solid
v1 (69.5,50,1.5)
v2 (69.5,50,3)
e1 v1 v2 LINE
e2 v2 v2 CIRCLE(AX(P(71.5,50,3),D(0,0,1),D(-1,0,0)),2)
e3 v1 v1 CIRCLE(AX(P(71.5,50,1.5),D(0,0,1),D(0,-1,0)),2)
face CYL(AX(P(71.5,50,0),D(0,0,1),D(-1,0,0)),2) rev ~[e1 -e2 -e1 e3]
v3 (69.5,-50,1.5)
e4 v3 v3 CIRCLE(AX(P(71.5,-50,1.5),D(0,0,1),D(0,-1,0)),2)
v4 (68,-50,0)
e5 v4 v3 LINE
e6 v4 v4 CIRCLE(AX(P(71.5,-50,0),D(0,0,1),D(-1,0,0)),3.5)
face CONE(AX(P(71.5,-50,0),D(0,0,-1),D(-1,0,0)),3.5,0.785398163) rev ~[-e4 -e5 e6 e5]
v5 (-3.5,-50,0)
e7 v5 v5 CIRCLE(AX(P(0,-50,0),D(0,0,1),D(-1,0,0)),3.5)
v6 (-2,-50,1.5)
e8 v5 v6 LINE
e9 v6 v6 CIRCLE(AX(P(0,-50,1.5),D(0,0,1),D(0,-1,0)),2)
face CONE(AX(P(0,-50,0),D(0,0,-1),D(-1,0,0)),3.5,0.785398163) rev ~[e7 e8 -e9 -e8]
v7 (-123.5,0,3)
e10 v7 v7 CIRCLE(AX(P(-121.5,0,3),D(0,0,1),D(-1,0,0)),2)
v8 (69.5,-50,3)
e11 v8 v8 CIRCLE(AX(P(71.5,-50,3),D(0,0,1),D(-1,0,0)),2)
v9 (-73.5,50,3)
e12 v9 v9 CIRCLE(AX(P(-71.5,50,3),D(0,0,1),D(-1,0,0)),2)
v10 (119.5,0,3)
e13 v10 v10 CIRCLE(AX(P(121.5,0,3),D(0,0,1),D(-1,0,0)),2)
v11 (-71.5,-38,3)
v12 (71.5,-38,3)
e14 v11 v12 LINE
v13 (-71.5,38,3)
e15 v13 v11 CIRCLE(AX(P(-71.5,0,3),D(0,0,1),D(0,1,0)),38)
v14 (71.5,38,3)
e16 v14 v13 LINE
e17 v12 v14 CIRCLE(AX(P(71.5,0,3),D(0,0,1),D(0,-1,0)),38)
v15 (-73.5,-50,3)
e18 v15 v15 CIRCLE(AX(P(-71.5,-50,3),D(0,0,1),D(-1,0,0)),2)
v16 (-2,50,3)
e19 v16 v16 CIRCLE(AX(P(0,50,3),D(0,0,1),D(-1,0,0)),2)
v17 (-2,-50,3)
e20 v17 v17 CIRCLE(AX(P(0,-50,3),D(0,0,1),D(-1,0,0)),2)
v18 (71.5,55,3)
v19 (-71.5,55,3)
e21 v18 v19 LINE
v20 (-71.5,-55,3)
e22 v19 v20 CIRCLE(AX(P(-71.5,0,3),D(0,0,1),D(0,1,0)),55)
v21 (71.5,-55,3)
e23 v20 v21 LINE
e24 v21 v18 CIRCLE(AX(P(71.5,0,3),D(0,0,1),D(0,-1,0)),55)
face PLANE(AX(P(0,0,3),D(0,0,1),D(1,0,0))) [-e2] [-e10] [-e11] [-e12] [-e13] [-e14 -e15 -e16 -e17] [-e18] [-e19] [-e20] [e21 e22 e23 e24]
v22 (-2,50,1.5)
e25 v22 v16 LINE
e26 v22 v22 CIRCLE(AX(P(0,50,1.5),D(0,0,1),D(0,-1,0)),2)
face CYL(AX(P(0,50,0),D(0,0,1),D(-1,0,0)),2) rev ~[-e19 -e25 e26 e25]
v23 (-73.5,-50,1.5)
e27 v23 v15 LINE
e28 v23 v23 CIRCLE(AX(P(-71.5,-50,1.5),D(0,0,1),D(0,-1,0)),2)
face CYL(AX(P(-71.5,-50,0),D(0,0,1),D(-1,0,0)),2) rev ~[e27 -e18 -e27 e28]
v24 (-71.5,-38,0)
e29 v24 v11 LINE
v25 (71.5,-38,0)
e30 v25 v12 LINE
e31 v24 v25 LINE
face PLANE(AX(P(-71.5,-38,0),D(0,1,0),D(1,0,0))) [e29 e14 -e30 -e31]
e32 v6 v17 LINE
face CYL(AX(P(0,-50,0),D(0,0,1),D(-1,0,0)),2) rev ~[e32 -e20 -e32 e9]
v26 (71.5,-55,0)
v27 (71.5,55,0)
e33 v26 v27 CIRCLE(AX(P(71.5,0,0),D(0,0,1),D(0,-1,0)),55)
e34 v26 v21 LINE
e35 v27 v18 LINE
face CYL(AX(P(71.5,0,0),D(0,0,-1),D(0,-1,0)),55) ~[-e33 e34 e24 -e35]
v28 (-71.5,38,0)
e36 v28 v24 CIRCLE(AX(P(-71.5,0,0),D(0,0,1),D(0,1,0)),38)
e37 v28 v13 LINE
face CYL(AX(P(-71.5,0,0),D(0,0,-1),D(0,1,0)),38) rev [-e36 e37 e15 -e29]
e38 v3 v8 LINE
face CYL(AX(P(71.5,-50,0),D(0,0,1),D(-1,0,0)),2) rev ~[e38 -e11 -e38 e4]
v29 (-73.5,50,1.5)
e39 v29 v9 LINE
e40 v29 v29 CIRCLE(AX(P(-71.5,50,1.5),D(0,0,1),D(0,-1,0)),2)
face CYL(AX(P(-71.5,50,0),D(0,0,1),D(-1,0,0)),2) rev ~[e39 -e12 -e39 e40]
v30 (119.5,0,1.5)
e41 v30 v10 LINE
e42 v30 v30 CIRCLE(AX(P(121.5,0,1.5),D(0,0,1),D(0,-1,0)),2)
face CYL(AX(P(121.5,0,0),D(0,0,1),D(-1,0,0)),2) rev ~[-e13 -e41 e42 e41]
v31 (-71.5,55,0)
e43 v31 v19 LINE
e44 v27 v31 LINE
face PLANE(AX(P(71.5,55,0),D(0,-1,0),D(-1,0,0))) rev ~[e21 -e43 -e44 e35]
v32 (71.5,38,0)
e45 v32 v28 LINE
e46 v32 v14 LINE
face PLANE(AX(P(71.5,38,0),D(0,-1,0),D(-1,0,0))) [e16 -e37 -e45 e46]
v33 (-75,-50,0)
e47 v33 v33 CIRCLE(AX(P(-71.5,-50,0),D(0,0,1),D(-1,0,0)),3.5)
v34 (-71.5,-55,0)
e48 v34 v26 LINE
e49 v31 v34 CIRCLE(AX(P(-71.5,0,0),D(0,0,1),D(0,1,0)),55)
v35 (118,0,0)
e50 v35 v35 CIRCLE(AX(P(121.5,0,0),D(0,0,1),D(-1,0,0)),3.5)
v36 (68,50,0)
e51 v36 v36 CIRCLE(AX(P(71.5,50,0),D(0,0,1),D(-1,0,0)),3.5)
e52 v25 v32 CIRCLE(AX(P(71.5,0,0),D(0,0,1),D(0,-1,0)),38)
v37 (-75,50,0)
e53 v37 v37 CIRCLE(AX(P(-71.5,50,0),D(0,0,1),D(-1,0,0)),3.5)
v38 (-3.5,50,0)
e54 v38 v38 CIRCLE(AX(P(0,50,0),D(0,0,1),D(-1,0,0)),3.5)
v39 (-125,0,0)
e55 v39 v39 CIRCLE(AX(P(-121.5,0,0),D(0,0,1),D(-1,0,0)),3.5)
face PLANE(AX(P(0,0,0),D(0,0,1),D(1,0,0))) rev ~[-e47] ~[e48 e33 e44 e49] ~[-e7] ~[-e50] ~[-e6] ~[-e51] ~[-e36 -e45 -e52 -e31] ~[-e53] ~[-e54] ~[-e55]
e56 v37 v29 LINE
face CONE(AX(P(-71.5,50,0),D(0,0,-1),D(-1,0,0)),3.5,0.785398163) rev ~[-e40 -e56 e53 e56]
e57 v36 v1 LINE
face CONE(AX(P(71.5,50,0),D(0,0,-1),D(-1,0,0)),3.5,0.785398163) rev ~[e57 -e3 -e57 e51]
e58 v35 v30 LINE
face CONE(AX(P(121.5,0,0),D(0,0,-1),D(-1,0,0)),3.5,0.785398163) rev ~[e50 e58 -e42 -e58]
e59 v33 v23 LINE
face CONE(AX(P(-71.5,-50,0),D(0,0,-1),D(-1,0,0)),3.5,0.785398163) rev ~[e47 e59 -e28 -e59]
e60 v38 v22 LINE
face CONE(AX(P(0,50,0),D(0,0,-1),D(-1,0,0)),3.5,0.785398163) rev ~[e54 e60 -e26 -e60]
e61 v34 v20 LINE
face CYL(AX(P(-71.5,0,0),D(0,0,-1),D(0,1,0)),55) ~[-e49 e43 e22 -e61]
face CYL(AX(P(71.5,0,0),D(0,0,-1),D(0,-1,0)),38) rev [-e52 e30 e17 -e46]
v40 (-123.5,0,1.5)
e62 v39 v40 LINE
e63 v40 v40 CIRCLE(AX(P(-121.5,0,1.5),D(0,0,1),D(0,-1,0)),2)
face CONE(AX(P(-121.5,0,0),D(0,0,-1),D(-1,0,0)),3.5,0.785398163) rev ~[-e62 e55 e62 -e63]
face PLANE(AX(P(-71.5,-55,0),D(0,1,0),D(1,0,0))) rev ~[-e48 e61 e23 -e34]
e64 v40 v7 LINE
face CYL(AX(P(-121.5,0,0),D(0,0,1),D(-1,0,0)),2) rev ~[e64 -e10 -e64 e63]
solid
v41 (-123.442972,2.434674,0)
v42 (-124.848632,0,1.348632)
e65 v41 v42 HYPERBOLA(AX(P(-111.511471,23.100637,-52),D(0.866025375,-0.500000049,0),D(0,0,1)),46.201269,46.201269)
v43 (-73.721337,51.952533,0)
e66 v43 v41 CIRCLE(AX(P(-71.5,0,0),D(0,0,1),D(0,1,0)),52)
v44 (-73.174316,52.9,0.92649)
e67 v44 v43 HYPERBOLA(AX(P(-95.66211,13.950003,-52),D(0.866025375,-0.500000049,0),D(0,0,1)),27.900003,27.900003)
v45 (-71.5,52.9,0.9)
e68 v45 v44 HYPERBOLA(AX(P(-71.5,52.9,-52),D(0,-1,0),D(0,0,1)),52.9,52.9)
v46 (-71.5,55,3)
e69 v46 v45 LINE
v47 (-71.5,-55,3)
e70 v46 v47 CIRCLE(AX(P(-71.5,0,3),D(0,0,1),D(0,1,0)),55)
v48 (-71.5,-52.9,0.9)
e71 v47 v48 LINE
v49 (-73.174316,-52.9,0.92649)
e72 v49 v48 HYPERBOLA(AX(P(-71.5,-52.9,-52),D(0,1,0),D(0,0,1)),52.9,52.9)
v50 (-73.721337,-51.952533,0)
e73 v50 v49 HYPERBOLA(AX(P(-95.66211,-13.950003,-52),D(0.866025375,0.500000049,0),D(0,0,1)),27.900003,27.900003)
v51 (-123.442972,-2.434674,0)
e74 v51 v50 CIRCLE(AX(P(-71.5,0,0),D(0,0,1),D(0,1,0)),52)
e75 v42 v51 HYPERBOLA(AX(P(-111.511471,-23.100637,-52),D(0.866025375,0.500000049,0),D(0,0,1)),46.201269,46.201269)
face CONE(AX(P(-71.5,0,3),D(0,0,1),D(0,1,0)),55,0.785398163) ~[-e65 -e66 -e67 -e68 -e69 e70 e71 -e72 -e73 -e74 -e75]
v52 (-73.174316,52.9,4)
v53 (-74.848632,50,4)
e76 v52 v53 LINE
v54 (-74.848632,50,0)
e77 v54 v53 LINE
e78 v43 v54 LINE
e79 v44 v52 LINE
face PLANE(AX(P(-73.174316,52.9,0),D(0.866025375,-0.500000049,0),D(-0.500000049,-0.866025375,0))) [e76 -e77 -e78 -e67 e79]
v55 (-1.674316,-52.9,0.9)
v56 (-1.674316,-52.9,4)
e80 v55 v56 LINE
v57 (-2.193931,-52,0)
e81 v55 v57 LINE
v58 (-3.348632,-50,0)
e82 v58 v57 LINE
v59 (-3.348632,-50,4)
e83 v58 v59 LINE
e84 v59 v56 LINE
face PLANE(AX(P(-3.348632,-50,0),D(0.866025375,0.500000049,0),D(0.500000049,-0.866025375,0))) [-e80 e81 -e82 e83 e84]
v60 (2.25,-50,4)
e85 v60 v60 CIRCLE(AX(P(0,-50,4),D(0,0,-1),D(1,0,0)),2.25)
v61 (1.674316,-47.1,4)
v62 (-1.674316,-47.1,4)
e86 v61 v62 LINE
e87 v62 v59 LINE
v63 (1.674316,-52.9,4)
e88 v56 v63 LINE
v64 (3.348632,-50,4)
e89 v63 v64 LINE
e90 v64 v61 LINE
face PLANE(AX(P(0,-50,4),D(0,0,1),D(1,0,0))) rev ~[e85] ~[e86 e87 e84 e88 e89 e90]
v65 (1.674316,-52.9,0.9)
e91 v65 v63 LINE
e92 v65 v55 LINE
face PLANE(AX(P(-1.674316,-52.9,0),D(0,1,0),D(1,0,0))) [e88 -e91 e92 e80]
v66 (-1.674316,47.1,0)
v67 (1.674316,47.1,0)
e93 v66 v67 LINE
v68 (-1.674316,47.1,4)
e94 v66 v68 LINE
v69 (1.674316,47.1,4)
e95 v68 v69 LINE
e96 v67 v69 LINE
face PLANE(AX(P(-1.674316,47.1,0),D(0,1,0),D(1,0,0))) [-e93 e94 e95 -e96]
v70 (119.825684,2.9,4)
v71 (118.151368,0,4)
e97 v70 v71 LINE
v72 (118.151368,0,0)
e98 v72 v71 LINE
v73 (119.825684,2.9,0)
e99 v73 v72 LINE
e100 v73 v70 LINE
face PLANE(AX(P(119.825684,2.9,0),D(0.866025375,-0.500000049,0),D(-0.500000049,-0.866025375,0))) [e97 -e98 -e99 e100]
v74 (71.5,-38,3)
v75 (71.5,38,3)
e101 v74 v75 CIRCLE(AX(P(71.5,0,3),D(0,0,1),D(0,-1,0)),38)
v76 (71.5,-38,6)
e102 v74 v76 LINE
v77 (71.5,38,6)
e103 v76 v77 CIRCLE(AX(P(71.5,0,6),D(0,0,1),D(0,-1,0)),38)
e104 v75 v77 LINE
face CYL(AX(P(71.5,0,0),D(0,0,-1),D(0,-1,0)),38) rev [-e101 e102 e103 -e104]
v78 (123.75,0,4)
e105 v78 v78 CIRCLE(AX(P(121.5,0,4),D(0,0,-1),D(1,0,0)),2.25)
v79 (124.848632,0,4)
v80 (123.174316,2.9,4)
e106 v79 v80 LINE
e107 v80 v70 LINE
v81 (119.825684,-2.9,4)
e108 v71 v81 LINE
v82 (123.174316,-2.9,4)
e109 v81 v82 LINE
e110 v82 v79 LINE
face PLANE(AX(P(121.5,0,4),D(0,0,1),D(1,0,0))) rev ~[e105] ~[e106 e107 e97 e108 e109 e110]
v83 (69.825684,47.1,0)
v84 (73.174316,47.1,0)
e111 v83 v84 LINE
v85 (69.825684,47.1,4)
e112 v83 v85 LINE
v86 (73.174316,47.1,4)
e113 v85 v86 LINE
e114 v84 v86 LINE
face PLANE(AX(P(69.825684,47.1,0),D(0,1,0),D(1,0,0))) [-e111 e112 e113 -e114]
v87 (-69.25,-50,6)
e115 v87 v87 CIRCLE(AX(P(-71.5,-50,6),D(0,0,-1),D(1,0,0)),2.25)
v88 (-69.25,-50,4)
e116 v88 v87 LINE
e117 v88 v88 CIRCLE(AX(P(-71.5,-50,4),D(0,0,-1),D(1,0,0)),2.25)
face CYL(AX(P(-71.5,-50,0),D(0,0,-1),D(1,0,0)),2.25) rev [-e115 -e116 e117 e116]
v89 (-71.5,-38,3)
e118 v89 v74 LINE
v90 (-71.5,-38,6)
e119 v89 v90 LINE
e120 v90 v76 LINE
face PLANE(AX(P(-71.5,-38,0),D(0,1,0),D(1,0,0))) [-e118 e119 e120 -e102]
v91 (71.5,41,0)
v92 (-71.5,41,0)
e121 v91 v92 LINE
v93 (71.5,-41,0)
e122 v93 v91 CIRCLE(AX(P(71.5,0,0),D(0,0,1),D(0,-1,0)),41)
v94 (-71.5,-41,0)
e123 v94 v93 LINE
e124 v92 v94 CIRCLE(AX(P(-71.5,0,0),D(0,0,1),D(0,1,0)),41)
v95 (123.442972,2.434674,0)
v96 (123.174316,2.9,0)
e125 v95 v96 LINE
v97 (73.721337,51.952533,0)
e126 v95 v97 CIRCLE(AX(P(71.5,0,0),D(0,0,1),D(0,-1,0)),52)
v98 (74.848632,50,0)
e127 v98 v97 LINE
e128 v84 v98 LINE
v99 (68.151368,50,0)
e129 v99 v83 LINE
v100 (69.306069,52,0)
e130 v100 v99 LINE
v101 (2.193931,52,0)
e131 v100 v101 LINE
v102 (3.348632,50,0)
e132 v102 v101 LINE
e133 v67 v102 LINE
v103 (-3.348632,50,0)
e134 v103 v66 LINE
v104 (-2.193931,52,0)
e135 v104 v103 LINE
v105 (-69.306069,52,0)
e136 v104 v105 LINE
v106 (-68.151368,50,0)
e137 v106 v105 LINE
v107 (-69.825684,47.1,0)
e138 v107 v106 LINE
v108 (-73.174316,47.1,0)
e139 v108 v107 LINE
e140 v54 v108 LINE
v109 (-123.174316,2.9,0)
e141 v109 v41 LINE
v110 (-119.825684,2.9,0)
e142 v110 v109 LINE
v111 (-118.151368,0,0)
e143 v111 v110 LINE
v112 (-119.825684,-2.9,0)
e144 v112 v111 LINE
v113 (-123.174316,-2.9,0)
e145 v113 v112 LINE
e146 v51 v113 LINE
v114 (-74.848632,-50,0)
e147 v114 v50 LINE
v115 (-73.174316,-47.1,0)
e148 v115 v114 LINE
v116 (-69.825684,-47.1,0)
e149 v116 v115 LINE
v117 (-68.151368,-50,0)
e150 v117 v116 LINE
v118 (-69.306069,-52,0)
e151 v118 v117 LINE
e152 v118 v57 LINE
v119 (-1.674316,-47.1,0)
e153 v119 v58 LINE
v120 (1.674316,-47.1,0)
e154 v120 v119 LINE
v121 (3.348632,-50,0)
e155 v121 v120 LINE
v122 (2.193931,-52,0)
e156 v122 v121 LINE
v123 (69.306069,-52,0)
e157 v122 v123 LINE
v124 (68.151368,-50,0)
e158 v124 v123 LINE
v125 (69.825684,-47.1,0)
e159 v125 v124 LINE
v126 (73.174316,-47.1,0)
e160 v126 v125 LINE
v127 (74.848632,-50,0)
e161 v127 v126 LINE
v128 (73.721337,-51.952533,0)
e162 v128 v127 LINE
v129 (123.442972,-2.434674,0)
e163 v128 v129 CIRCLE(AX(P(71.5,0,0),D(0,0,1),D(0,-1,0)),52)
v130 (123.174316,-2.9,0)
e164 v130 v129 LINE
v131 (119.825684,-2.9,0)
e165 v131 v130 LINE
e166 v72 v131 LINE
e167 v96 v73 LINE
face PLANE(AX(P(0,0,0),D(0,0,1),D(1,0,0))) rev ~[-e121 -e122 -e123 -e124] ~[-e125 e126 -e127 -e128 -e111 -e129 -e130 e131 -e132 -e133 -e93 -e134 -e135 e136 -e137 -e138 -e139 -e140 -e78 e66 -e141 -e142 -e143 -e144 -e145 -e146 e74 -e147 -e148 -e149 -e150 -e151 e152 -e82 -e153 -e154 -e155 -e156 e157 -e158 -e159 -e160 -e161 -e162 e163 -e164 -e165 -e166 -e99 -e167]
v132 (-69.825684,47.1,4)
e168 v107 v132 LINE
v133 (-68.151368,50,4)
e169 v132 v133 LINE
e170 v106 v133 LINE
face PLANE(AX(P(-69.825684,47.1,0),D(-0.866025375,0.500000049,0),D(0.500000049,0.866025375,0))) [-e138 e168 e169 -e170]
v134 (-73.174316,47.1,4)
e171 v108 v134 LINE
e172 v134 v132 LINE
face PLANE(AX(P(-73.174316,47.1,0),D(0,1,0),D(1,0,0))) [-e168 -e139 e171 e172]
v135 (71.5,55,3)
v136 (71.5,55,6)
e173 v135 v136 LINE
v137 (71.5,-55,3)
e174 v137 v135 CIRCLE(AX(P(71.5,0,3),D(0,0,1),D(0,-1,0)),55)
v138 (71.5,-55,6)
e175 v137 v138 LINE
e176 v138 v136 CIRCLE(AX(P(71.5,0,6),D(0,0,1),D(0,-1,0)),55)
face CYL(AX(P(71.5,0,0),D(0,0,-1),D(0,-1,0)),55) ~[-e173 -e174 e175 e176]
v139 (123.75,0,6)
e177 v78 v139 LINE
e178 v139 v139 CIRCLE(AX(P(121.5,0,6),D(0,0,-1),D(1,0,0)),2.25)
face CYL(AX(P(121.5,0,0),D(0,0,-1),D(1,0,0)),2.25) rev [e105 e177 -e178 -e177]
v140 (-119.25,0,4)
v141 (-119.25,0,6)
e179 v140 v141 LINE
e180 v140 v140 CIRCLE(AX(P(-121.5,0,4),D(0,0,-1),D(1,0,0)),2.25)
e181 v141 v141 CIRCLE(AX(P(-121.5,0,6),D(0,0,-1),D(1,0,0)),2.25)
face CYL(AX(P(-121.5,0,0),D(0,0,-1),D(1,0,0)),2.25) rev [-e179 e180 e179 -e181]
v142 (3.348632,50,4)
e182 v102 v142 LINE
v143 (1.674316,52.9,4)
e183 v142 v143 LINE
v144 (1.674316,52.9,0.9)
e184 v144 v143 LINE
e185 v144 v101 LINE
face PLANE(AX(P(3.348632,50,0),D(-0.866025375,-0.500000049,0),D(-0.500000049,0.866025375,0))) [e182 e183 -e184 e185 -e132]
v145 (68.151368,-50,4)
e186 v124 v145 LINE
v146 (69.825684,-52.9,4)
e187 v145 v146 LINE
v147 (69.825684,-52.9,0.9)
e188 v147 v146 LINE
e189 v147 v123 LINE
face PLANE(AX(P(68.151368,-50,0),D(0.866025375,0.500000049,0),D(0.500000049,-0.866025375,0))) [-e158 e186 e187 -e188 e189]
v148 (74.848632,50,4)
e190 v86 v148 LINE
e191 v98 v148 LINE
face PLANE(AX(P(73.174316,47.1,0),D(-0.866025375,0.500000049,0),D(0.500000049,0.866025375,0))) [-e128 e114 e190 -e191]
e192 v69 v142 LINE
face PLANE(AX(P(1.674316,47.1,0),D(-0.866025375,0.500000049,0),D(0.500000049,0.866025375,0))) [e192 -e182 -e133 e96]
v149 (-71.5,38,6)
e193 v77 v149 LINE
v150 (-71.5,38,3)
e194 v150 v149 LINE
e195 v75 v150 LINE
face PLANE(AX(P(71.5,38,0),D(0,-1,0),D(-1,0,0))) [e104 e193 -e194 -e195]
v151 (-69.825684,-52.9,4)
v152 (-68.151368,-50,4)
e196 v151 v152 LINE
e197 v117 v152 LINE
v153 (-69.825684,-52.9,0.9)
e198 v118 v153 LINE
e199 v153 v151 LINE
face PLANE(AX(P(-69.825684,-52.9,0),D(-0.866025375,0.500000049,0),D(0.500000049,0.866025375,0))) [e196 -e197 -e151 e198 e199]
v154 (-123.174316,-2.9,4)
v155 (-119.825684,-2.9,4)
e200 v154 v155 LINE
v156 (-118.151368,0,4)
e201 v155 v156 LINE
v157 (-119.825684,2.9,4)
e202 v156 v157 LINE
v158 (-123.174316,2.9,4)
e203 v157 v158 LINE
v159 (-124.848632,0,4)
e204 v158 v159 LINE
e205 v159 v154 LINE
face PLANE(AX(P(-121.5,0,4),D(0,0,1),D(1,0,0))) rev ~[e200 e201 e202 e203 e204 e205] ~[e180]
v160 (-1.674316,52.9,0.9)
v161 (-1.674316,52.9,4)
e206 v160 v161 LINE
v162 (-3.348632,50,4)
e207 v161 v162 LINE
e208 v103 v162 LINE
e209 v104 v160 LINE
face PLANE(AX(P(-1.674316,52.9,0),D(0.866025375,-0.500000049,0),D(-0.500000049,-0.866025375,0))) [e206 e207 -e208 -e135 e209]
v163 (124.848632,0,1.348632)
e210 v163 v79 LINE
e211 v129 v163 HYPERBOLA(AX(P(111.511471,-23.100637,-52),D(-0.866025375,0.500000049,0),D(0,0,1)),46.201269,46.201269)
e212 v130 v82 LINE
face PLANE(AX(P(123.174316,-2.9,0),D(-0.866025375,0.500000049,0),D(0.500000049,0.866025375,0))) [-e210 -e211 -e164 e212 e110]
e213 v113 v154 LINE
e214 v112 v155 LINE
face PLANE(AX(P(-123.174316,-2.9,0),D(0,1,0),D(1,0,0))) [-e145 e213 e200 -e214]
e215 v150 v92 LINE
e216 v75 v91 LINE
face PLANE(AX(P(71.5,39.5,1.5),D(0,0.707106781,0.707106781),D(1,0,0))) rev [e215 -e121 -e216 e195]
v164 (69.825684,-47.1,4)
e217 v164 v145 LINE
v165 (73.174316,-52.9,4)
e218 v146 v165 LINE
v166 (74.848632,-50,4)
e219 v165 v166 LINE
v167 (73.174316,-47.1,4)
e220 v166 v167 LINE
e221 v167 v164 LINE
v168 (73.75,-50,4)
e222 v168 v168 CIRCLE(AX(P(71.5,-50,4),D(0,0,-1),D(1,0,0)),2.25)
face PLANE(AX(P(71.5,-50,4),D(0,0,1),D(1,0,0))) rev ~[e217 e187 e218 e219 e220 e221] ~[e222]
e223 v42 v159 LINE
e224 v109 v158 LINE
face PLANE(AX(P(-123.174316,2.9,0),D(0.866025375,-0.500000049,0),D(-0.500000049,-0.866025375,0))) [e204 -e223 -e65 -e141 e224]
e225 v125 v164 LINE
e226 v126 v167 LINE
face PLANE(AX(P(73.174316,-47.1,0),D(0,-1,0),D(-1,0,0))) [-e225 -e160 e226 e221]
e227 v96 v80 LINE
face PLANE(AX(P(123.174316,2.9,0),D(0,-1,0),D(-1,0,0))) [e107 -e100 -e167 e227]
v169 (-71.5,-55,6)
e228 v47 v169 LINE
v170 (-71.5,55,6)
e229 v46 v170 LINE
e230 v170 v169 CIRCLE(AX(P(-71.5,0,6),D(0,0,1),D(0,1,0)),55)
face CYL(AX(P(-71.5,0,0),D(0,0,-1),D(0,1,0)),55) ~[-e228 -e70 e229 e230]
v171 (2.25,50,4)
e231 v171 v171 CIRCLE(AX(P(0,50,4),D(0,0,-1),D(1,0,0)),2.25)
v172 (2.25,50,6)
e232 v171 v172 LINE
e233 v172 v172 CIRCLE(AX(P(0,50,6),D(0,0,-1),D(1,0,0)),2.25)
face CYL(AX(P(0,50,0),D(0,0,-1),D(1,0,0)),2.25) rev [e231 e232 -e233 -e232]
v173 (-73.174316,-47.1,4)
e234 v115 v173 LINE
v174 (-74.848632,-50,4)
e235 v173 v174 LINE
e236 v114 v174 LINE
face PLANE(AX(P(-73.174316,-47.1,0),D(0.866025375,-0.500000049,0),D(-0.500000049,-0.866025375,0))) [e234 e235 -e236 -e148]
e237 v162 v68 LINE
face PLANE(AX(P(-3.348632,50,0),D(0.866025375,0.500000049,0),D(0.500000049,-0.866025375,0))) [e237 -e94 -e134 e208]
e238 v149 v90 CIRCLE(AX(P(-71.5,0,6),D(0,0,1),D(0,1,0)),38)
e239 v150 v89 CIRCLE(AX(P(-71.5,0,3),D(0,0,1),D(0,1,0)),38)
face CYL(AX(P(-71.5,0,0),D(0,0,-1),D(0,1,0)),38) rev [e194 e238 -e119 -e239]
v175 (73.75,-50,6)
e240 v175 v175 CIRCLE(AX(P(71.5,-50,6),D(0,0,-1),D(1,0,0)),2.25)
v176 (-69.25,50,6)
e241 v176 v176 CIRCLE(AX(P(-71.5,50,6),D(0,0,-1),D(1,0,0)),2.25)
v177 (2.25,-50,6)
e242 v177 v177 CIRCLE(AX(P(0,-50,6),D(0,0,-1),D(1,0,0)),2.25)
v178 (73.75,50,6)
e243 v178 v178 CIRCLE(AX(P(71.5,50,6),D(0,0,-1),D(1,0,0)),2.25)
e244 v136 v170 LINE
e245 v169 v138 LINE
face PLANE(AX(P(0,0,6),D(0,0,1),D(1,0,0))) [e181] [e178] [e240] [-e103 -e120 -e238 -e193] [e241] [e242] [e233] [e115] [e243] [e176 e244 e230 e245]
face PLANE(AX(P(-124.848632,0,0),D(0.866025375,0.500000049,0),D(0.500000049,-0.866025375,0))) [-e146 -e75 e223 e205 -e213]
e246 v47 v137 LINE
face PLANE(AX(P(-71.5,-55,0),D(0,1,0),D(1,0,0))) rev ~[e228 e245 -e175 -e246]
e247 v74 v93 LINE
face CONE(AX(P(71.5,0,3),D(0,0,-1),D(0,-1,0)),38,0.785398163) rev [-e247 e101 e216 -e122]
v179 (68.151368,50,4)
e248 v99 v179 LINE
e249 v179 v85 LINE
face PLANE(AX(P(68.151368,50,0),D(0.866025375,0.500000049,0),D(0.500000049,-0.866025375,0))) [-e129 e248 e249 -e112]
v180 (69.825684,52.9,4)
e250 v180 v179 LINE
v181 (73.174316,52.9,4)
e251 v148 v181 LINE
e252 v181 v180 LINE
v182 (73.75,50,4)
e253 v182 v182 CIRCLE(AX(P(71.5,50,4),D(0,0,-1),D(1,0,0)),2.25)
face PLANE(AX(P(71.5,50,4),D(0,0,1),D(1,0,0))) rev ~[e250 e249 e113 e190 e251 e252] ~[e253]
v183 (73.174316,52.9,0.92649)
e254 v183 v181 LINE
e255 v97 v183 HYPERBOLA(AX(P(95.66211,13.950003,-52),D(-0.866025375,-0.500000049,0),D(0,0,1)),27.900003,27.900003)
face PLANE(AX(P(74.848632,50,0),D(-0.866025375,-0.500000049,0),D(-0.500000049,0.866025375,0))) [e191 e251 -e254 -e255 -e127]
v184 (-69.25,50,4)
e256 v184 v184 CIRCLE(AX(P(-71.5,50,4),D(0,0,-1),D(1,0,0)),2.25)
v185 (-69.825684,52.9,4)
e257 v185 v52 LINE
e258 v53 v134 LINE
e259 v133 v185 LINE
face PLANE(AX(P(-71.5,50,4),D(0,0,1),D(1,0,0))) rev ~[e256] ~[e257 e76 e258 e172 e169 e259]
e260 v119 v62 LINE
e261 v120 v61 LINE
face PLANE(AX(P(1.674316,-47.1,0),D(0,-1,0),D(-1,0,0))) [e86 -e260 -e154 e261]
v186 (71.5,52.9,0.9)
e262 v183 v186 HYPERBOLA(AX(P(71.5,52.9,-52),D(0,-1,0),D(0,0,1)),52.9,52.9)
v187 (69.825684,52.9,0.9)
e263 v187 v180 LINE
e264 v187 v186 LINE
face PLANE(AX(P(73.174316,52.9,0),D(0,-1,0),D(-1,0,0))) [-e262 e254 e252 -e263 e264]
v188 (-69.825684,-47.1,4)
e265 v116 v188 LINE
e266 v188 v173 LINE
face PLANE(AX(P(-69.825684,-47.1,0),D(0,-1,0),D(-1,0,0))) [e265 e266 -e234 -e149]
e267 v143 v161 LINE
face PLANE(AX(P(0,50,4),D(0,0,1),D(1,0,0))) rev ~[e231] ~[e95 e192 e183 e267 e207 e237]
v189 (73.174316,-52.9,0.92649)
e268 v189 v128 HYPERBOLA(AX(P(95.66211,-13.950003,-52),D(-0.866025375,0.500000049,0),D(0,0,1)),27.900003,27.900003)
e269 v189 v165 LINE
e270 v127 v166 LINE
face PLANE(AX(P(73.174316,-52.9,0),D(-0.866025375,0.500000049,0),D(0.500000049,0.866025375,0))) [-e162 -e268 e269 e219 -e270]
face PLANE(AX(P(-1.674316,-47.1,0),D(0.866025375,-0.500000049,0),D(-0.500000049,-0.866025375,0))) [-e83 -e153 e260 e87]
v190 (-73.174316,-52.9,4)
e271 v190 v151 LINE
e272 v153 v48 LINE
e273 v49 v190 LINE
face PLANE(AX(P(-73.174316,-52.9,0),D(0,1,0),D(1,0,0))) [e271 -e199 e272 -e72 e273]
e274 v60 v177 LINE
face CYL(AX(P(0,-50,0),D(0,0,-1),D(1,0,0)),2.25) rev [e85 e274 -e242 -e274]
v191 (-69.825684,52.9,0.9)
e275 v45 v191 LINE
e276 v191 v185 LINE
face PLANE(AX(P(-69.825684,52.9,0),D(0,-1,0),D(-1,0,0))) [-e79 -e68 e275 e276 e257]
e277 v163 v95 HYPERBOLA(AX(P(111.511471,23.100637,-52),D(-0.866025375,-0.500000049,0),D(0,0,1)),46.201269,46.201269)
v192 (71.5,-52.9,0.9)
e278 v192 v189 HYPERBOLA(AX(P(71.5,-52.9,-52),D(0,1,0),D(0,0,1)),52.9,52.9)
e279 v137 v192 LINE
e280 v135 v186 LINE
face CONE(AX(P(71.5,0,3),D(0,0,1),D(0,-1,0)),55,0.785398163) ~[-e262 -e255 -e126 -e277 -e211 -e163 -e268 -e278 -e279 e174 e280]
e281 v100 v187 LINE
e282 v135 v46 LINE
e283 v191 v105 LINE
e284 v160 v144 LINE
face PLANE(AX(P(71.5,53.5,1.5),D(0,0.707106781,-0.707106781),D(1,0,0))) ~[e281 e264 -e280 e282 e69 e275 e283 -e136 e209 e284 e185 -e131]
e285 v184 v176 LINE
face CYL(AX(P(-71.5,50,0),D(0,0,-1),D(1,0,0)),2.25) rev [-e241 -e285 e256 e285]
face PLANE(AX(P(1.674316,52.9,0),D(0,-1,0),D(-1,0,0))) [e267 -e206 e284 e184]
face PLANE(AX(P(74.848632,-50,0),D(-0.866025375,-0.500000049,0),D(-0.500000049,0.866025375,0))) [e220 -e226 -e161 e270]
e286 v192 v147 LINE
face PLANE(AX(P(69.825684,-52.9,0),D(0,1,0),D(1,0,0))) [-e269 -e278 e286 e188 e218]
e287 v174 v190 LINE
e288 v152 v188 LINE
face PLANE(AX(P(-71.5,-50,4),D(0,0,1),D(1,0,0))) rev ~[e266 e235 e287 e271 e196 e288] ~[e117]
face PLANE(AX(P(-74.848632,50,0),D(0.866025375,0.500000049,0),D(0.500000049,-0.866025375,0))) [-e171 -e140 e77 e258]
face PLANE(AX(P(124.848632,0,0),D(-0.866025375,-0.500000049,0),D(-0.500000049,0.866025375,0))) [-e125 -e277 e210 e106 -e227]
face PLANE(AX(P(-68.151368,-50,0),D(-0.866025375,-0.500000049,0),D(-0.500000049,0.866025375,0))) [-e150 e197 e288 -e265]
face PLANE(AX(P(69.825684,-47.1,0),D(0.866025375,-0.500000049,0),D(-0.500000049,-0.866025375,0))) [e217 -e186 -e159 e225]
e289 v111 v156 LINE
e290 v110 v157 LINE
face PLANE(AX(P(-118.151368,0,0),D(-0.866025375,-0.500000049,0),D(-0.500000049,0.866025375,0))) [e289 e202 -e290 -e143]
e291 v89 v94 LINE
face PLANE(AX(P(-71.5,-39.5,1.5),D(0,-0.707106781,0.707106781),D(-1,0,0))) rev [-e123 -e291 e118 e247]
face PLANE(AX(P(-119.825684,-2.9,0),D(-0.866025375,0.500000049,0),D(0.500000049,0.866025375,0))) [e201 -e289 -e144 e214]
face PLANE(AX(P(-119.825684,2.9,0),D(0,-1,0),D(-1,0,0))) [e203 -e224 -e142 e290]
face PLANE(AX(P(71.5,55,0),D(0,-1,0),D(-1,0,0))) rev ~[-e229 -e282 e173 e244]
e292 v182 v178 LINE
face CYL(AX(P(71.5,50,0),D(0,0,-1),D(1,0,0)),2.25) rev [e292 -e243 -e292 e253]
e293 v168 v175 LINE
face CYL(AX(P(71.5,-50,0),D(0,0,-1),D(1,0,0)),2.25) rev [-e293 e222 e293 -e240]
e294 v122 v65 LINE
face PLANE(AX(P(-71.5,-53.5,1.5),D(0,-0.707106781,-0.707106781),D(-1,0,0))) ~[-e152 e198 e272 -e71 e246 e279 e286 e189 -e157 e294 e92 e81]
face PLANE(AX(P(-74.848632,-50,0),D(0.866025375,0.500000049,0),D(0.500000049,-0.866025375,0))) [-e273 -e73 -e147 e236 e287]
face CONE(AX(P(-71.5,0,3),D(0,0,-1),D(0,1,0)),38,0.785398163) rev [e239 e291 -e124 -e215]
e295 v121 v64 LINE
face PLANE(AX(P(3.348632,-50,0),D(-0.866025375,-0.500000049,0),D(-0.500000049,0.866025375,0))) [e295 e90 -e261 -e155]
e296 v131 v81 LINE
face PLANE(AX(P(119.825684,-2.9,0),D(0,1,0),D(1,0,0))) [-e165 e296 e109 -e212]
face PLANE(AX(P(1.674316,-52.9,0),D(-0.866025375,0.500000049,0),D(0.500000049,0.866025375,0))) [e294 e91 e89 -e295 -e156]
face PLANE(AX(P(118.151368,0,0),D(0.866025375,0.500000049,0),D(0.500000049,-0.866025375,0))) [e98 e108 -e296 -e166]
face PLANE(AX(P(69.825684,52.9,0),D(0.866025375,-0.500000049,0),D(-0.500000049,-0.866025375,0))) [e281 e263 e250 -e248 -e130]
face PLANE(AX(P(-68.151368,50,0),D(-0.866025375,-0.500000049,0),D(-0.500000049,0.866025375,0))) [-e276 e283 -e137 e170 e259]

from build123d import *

# Parameters (mm, degrees)
PAD_DEPTH        = 3
HOLE_D           = 4
HOLE_DEPTH       = 25
HOLE_CSINK_D     = 7
HOLE_CSINK_ANGLE = 90
PAD001_DEPTH     = 6
CHAMFER_SIZE     = 3
POCKET_DEPTH     = 4
SKETCH004_R      = 2.25
HOLE001_DEPTH    = 25


with BuildPart() as body:
    # Sketch → Pad (new body)
    with BuildSketch(Plane.XY):
        with BuildLine():
            ThreePointArc((-71.5, 55), (-126.5, 0), (-71.5, -55))
            Line((-71.5, -55), (71.5, -55))
            ThreePointArc((71.5, -55), (126.5, 0), (71.5, 55))
            Line((71.5, 55), (-71.5, 55))
        make_face()
        with BuildLine():
            ThreePointArc((-71.5, 38), (-109.5, 0), (-71.5, -38))
            Line((-71.5, -38), (71.5, -38))
            ThreePointArc((71.5, -38), (109.5, 0), (71.5, 38))
            Line((71.5, 38), (-71.5, 38))
        make_face(mode=Mode.SUBTRACT)
    extrude(amount=PAD_DEPTH)

    # Hole
    with Locations(Plane(origin=(0, 0, 0), x_dir=(1, 0, 0), z_dir=(0, 0, -1))):
        with Locations((-71.5, -50), (-121.5, 0), (-71.5, 50), (71.5, 50), (121.5, 0), (71.5, -50), (0, -50), (0, 50)):
            CounterSinkHole(HOLE_D / 2, HOLE_CSINK_D / 2, depth=HOLE_DEPTH, counter_sink_angle=HOLE_CSINK_ANGLE)


with BuildPart() as bodyoutside:
    # Sketch002 → Pad001 (new body)
    with BuildSketch(Plane.XY):
        with BuildLine():
            ThreePointArc((-71.5, 55), (-126.5, 0), (-71.5, -55))
            Line((-71.5, -55), (71.5, -55))
            ThreePointArc((71.5, -55), (126.5, 0), (71.5, 55))
            Line((71.5, 55), (-71.5, 55))
        make_face()
        with BuildLine():
            ThreePointArc((-71.5, 38), (-109.5, 0), (-71.5, -38))
            Line((-71.5, -38), (71.5, -38))
            ThreePointArc((71.5, -38), (109.5, 0), (71.5, 38))
            Line((71.5, 38), (-71.5, 38))
        make_face(mode=Mode.SUBTRACT)
    extrude(amount=PAD001_DEPTH)

    # Chamfer
    chamfer_edges = [bodyoutside.edges().sort_by_distance(p)[0] for p in [
        (0, -55, 0),
        (126.5, 0, 0),
        (0, 55, 0),
        (-126.5, 0, 0),
        (0, -38, 0),
        (-109.5, 0, 0),
        (0, 38, 0),
        (109.5, 0, 0),
    ]]
    chamfer(chamfer_edges, length=CHAMFER_SIZE)

    # Sketch003 → Pocket (cut)
    with BuildSketch(Plane.XY):
        Polygon((-118.151368, 0), (-119.825684, 2.9), (-123.174316, 2.9), (-124.848632, 0), (-123.174316, -2.9), (-119.825684, -2.9), align=None)
        Polygon((-69.825684, -52.9), (-68.151368, -50), (-69.825684, -47.1), (-73.174316, -47.1), (-74.848632, -50), (-73.174316, -52.9), align=None)
        Polygon((-69.825684, 47.1), (-68.151368, 50), (-69.825684, 52.9), (-73.174316, 52.9), (-74.848632, 50), (-73.174316, 47.1), align=None)
        Polygon((1.674316, 47.1), (3.348632, 50), (1.674316, 52.9), (-1.674316, 52.9), (-3.348632, 50), (-1.674316, 47.1), align=None)
        Polygon((73.174316, 47.1), (74.848632, 50), (73.174316, 52.9), (69.825684, 52.9), (68.151368, 50), (69.825684, 47.1), align=None)
        Polygon((123.174316, -2.9), (124.848632, 0), (123.174316, 2.9), (119.825684, 2.9), (118.151368, 0), (119.825684, -2.9), align=None)
        Polygon((73.174316, -52.9), (74.848632, -50), (73.174316, -47.1), (69.825684, -47.1), (68.151368, -50), (69.825684, -52.9), align=None)
        Polygon((3.348632, -50), (1.674316, -47.1), (-1.674316, -47.1), (-3.348632, -50), (-1.674316, -52.9), (1.674316, -52.9), align=None)
    extrude(amount=POCKET_DEPTH, mode=Mode.SUBTRACT)

    # Sketch004 → Hole001 (cut)
    with BuildSketch(Plane.XY):
        with Locations((-71.5, 50)):
            Circle(SKETCH004_R)
        with Locations((-121.5, 0)):
            Circle(SKETCH004_R)
        with Locations((-71.5, -50)):
            Circle(SKETCH004_R)
        with Locations((71.5, -50)):
            Circle(SKETCH004_R)
        with Locations((121.5, 0)):
            Circle(SKETCH004_R)
        with Locations((71.5, 50)):
            Circle(SKETCH004_R)
        with Locations((0, 50)):
            Circle(SKETCH004_R)
        with Locations((0, -50)):
            Circle(SKETCH004_R)
    extrude(amount=HOLE001_DEPTH, mode=Mode.SUBTRACT)


solid = Compound([body.part, bodyoutside.part])
